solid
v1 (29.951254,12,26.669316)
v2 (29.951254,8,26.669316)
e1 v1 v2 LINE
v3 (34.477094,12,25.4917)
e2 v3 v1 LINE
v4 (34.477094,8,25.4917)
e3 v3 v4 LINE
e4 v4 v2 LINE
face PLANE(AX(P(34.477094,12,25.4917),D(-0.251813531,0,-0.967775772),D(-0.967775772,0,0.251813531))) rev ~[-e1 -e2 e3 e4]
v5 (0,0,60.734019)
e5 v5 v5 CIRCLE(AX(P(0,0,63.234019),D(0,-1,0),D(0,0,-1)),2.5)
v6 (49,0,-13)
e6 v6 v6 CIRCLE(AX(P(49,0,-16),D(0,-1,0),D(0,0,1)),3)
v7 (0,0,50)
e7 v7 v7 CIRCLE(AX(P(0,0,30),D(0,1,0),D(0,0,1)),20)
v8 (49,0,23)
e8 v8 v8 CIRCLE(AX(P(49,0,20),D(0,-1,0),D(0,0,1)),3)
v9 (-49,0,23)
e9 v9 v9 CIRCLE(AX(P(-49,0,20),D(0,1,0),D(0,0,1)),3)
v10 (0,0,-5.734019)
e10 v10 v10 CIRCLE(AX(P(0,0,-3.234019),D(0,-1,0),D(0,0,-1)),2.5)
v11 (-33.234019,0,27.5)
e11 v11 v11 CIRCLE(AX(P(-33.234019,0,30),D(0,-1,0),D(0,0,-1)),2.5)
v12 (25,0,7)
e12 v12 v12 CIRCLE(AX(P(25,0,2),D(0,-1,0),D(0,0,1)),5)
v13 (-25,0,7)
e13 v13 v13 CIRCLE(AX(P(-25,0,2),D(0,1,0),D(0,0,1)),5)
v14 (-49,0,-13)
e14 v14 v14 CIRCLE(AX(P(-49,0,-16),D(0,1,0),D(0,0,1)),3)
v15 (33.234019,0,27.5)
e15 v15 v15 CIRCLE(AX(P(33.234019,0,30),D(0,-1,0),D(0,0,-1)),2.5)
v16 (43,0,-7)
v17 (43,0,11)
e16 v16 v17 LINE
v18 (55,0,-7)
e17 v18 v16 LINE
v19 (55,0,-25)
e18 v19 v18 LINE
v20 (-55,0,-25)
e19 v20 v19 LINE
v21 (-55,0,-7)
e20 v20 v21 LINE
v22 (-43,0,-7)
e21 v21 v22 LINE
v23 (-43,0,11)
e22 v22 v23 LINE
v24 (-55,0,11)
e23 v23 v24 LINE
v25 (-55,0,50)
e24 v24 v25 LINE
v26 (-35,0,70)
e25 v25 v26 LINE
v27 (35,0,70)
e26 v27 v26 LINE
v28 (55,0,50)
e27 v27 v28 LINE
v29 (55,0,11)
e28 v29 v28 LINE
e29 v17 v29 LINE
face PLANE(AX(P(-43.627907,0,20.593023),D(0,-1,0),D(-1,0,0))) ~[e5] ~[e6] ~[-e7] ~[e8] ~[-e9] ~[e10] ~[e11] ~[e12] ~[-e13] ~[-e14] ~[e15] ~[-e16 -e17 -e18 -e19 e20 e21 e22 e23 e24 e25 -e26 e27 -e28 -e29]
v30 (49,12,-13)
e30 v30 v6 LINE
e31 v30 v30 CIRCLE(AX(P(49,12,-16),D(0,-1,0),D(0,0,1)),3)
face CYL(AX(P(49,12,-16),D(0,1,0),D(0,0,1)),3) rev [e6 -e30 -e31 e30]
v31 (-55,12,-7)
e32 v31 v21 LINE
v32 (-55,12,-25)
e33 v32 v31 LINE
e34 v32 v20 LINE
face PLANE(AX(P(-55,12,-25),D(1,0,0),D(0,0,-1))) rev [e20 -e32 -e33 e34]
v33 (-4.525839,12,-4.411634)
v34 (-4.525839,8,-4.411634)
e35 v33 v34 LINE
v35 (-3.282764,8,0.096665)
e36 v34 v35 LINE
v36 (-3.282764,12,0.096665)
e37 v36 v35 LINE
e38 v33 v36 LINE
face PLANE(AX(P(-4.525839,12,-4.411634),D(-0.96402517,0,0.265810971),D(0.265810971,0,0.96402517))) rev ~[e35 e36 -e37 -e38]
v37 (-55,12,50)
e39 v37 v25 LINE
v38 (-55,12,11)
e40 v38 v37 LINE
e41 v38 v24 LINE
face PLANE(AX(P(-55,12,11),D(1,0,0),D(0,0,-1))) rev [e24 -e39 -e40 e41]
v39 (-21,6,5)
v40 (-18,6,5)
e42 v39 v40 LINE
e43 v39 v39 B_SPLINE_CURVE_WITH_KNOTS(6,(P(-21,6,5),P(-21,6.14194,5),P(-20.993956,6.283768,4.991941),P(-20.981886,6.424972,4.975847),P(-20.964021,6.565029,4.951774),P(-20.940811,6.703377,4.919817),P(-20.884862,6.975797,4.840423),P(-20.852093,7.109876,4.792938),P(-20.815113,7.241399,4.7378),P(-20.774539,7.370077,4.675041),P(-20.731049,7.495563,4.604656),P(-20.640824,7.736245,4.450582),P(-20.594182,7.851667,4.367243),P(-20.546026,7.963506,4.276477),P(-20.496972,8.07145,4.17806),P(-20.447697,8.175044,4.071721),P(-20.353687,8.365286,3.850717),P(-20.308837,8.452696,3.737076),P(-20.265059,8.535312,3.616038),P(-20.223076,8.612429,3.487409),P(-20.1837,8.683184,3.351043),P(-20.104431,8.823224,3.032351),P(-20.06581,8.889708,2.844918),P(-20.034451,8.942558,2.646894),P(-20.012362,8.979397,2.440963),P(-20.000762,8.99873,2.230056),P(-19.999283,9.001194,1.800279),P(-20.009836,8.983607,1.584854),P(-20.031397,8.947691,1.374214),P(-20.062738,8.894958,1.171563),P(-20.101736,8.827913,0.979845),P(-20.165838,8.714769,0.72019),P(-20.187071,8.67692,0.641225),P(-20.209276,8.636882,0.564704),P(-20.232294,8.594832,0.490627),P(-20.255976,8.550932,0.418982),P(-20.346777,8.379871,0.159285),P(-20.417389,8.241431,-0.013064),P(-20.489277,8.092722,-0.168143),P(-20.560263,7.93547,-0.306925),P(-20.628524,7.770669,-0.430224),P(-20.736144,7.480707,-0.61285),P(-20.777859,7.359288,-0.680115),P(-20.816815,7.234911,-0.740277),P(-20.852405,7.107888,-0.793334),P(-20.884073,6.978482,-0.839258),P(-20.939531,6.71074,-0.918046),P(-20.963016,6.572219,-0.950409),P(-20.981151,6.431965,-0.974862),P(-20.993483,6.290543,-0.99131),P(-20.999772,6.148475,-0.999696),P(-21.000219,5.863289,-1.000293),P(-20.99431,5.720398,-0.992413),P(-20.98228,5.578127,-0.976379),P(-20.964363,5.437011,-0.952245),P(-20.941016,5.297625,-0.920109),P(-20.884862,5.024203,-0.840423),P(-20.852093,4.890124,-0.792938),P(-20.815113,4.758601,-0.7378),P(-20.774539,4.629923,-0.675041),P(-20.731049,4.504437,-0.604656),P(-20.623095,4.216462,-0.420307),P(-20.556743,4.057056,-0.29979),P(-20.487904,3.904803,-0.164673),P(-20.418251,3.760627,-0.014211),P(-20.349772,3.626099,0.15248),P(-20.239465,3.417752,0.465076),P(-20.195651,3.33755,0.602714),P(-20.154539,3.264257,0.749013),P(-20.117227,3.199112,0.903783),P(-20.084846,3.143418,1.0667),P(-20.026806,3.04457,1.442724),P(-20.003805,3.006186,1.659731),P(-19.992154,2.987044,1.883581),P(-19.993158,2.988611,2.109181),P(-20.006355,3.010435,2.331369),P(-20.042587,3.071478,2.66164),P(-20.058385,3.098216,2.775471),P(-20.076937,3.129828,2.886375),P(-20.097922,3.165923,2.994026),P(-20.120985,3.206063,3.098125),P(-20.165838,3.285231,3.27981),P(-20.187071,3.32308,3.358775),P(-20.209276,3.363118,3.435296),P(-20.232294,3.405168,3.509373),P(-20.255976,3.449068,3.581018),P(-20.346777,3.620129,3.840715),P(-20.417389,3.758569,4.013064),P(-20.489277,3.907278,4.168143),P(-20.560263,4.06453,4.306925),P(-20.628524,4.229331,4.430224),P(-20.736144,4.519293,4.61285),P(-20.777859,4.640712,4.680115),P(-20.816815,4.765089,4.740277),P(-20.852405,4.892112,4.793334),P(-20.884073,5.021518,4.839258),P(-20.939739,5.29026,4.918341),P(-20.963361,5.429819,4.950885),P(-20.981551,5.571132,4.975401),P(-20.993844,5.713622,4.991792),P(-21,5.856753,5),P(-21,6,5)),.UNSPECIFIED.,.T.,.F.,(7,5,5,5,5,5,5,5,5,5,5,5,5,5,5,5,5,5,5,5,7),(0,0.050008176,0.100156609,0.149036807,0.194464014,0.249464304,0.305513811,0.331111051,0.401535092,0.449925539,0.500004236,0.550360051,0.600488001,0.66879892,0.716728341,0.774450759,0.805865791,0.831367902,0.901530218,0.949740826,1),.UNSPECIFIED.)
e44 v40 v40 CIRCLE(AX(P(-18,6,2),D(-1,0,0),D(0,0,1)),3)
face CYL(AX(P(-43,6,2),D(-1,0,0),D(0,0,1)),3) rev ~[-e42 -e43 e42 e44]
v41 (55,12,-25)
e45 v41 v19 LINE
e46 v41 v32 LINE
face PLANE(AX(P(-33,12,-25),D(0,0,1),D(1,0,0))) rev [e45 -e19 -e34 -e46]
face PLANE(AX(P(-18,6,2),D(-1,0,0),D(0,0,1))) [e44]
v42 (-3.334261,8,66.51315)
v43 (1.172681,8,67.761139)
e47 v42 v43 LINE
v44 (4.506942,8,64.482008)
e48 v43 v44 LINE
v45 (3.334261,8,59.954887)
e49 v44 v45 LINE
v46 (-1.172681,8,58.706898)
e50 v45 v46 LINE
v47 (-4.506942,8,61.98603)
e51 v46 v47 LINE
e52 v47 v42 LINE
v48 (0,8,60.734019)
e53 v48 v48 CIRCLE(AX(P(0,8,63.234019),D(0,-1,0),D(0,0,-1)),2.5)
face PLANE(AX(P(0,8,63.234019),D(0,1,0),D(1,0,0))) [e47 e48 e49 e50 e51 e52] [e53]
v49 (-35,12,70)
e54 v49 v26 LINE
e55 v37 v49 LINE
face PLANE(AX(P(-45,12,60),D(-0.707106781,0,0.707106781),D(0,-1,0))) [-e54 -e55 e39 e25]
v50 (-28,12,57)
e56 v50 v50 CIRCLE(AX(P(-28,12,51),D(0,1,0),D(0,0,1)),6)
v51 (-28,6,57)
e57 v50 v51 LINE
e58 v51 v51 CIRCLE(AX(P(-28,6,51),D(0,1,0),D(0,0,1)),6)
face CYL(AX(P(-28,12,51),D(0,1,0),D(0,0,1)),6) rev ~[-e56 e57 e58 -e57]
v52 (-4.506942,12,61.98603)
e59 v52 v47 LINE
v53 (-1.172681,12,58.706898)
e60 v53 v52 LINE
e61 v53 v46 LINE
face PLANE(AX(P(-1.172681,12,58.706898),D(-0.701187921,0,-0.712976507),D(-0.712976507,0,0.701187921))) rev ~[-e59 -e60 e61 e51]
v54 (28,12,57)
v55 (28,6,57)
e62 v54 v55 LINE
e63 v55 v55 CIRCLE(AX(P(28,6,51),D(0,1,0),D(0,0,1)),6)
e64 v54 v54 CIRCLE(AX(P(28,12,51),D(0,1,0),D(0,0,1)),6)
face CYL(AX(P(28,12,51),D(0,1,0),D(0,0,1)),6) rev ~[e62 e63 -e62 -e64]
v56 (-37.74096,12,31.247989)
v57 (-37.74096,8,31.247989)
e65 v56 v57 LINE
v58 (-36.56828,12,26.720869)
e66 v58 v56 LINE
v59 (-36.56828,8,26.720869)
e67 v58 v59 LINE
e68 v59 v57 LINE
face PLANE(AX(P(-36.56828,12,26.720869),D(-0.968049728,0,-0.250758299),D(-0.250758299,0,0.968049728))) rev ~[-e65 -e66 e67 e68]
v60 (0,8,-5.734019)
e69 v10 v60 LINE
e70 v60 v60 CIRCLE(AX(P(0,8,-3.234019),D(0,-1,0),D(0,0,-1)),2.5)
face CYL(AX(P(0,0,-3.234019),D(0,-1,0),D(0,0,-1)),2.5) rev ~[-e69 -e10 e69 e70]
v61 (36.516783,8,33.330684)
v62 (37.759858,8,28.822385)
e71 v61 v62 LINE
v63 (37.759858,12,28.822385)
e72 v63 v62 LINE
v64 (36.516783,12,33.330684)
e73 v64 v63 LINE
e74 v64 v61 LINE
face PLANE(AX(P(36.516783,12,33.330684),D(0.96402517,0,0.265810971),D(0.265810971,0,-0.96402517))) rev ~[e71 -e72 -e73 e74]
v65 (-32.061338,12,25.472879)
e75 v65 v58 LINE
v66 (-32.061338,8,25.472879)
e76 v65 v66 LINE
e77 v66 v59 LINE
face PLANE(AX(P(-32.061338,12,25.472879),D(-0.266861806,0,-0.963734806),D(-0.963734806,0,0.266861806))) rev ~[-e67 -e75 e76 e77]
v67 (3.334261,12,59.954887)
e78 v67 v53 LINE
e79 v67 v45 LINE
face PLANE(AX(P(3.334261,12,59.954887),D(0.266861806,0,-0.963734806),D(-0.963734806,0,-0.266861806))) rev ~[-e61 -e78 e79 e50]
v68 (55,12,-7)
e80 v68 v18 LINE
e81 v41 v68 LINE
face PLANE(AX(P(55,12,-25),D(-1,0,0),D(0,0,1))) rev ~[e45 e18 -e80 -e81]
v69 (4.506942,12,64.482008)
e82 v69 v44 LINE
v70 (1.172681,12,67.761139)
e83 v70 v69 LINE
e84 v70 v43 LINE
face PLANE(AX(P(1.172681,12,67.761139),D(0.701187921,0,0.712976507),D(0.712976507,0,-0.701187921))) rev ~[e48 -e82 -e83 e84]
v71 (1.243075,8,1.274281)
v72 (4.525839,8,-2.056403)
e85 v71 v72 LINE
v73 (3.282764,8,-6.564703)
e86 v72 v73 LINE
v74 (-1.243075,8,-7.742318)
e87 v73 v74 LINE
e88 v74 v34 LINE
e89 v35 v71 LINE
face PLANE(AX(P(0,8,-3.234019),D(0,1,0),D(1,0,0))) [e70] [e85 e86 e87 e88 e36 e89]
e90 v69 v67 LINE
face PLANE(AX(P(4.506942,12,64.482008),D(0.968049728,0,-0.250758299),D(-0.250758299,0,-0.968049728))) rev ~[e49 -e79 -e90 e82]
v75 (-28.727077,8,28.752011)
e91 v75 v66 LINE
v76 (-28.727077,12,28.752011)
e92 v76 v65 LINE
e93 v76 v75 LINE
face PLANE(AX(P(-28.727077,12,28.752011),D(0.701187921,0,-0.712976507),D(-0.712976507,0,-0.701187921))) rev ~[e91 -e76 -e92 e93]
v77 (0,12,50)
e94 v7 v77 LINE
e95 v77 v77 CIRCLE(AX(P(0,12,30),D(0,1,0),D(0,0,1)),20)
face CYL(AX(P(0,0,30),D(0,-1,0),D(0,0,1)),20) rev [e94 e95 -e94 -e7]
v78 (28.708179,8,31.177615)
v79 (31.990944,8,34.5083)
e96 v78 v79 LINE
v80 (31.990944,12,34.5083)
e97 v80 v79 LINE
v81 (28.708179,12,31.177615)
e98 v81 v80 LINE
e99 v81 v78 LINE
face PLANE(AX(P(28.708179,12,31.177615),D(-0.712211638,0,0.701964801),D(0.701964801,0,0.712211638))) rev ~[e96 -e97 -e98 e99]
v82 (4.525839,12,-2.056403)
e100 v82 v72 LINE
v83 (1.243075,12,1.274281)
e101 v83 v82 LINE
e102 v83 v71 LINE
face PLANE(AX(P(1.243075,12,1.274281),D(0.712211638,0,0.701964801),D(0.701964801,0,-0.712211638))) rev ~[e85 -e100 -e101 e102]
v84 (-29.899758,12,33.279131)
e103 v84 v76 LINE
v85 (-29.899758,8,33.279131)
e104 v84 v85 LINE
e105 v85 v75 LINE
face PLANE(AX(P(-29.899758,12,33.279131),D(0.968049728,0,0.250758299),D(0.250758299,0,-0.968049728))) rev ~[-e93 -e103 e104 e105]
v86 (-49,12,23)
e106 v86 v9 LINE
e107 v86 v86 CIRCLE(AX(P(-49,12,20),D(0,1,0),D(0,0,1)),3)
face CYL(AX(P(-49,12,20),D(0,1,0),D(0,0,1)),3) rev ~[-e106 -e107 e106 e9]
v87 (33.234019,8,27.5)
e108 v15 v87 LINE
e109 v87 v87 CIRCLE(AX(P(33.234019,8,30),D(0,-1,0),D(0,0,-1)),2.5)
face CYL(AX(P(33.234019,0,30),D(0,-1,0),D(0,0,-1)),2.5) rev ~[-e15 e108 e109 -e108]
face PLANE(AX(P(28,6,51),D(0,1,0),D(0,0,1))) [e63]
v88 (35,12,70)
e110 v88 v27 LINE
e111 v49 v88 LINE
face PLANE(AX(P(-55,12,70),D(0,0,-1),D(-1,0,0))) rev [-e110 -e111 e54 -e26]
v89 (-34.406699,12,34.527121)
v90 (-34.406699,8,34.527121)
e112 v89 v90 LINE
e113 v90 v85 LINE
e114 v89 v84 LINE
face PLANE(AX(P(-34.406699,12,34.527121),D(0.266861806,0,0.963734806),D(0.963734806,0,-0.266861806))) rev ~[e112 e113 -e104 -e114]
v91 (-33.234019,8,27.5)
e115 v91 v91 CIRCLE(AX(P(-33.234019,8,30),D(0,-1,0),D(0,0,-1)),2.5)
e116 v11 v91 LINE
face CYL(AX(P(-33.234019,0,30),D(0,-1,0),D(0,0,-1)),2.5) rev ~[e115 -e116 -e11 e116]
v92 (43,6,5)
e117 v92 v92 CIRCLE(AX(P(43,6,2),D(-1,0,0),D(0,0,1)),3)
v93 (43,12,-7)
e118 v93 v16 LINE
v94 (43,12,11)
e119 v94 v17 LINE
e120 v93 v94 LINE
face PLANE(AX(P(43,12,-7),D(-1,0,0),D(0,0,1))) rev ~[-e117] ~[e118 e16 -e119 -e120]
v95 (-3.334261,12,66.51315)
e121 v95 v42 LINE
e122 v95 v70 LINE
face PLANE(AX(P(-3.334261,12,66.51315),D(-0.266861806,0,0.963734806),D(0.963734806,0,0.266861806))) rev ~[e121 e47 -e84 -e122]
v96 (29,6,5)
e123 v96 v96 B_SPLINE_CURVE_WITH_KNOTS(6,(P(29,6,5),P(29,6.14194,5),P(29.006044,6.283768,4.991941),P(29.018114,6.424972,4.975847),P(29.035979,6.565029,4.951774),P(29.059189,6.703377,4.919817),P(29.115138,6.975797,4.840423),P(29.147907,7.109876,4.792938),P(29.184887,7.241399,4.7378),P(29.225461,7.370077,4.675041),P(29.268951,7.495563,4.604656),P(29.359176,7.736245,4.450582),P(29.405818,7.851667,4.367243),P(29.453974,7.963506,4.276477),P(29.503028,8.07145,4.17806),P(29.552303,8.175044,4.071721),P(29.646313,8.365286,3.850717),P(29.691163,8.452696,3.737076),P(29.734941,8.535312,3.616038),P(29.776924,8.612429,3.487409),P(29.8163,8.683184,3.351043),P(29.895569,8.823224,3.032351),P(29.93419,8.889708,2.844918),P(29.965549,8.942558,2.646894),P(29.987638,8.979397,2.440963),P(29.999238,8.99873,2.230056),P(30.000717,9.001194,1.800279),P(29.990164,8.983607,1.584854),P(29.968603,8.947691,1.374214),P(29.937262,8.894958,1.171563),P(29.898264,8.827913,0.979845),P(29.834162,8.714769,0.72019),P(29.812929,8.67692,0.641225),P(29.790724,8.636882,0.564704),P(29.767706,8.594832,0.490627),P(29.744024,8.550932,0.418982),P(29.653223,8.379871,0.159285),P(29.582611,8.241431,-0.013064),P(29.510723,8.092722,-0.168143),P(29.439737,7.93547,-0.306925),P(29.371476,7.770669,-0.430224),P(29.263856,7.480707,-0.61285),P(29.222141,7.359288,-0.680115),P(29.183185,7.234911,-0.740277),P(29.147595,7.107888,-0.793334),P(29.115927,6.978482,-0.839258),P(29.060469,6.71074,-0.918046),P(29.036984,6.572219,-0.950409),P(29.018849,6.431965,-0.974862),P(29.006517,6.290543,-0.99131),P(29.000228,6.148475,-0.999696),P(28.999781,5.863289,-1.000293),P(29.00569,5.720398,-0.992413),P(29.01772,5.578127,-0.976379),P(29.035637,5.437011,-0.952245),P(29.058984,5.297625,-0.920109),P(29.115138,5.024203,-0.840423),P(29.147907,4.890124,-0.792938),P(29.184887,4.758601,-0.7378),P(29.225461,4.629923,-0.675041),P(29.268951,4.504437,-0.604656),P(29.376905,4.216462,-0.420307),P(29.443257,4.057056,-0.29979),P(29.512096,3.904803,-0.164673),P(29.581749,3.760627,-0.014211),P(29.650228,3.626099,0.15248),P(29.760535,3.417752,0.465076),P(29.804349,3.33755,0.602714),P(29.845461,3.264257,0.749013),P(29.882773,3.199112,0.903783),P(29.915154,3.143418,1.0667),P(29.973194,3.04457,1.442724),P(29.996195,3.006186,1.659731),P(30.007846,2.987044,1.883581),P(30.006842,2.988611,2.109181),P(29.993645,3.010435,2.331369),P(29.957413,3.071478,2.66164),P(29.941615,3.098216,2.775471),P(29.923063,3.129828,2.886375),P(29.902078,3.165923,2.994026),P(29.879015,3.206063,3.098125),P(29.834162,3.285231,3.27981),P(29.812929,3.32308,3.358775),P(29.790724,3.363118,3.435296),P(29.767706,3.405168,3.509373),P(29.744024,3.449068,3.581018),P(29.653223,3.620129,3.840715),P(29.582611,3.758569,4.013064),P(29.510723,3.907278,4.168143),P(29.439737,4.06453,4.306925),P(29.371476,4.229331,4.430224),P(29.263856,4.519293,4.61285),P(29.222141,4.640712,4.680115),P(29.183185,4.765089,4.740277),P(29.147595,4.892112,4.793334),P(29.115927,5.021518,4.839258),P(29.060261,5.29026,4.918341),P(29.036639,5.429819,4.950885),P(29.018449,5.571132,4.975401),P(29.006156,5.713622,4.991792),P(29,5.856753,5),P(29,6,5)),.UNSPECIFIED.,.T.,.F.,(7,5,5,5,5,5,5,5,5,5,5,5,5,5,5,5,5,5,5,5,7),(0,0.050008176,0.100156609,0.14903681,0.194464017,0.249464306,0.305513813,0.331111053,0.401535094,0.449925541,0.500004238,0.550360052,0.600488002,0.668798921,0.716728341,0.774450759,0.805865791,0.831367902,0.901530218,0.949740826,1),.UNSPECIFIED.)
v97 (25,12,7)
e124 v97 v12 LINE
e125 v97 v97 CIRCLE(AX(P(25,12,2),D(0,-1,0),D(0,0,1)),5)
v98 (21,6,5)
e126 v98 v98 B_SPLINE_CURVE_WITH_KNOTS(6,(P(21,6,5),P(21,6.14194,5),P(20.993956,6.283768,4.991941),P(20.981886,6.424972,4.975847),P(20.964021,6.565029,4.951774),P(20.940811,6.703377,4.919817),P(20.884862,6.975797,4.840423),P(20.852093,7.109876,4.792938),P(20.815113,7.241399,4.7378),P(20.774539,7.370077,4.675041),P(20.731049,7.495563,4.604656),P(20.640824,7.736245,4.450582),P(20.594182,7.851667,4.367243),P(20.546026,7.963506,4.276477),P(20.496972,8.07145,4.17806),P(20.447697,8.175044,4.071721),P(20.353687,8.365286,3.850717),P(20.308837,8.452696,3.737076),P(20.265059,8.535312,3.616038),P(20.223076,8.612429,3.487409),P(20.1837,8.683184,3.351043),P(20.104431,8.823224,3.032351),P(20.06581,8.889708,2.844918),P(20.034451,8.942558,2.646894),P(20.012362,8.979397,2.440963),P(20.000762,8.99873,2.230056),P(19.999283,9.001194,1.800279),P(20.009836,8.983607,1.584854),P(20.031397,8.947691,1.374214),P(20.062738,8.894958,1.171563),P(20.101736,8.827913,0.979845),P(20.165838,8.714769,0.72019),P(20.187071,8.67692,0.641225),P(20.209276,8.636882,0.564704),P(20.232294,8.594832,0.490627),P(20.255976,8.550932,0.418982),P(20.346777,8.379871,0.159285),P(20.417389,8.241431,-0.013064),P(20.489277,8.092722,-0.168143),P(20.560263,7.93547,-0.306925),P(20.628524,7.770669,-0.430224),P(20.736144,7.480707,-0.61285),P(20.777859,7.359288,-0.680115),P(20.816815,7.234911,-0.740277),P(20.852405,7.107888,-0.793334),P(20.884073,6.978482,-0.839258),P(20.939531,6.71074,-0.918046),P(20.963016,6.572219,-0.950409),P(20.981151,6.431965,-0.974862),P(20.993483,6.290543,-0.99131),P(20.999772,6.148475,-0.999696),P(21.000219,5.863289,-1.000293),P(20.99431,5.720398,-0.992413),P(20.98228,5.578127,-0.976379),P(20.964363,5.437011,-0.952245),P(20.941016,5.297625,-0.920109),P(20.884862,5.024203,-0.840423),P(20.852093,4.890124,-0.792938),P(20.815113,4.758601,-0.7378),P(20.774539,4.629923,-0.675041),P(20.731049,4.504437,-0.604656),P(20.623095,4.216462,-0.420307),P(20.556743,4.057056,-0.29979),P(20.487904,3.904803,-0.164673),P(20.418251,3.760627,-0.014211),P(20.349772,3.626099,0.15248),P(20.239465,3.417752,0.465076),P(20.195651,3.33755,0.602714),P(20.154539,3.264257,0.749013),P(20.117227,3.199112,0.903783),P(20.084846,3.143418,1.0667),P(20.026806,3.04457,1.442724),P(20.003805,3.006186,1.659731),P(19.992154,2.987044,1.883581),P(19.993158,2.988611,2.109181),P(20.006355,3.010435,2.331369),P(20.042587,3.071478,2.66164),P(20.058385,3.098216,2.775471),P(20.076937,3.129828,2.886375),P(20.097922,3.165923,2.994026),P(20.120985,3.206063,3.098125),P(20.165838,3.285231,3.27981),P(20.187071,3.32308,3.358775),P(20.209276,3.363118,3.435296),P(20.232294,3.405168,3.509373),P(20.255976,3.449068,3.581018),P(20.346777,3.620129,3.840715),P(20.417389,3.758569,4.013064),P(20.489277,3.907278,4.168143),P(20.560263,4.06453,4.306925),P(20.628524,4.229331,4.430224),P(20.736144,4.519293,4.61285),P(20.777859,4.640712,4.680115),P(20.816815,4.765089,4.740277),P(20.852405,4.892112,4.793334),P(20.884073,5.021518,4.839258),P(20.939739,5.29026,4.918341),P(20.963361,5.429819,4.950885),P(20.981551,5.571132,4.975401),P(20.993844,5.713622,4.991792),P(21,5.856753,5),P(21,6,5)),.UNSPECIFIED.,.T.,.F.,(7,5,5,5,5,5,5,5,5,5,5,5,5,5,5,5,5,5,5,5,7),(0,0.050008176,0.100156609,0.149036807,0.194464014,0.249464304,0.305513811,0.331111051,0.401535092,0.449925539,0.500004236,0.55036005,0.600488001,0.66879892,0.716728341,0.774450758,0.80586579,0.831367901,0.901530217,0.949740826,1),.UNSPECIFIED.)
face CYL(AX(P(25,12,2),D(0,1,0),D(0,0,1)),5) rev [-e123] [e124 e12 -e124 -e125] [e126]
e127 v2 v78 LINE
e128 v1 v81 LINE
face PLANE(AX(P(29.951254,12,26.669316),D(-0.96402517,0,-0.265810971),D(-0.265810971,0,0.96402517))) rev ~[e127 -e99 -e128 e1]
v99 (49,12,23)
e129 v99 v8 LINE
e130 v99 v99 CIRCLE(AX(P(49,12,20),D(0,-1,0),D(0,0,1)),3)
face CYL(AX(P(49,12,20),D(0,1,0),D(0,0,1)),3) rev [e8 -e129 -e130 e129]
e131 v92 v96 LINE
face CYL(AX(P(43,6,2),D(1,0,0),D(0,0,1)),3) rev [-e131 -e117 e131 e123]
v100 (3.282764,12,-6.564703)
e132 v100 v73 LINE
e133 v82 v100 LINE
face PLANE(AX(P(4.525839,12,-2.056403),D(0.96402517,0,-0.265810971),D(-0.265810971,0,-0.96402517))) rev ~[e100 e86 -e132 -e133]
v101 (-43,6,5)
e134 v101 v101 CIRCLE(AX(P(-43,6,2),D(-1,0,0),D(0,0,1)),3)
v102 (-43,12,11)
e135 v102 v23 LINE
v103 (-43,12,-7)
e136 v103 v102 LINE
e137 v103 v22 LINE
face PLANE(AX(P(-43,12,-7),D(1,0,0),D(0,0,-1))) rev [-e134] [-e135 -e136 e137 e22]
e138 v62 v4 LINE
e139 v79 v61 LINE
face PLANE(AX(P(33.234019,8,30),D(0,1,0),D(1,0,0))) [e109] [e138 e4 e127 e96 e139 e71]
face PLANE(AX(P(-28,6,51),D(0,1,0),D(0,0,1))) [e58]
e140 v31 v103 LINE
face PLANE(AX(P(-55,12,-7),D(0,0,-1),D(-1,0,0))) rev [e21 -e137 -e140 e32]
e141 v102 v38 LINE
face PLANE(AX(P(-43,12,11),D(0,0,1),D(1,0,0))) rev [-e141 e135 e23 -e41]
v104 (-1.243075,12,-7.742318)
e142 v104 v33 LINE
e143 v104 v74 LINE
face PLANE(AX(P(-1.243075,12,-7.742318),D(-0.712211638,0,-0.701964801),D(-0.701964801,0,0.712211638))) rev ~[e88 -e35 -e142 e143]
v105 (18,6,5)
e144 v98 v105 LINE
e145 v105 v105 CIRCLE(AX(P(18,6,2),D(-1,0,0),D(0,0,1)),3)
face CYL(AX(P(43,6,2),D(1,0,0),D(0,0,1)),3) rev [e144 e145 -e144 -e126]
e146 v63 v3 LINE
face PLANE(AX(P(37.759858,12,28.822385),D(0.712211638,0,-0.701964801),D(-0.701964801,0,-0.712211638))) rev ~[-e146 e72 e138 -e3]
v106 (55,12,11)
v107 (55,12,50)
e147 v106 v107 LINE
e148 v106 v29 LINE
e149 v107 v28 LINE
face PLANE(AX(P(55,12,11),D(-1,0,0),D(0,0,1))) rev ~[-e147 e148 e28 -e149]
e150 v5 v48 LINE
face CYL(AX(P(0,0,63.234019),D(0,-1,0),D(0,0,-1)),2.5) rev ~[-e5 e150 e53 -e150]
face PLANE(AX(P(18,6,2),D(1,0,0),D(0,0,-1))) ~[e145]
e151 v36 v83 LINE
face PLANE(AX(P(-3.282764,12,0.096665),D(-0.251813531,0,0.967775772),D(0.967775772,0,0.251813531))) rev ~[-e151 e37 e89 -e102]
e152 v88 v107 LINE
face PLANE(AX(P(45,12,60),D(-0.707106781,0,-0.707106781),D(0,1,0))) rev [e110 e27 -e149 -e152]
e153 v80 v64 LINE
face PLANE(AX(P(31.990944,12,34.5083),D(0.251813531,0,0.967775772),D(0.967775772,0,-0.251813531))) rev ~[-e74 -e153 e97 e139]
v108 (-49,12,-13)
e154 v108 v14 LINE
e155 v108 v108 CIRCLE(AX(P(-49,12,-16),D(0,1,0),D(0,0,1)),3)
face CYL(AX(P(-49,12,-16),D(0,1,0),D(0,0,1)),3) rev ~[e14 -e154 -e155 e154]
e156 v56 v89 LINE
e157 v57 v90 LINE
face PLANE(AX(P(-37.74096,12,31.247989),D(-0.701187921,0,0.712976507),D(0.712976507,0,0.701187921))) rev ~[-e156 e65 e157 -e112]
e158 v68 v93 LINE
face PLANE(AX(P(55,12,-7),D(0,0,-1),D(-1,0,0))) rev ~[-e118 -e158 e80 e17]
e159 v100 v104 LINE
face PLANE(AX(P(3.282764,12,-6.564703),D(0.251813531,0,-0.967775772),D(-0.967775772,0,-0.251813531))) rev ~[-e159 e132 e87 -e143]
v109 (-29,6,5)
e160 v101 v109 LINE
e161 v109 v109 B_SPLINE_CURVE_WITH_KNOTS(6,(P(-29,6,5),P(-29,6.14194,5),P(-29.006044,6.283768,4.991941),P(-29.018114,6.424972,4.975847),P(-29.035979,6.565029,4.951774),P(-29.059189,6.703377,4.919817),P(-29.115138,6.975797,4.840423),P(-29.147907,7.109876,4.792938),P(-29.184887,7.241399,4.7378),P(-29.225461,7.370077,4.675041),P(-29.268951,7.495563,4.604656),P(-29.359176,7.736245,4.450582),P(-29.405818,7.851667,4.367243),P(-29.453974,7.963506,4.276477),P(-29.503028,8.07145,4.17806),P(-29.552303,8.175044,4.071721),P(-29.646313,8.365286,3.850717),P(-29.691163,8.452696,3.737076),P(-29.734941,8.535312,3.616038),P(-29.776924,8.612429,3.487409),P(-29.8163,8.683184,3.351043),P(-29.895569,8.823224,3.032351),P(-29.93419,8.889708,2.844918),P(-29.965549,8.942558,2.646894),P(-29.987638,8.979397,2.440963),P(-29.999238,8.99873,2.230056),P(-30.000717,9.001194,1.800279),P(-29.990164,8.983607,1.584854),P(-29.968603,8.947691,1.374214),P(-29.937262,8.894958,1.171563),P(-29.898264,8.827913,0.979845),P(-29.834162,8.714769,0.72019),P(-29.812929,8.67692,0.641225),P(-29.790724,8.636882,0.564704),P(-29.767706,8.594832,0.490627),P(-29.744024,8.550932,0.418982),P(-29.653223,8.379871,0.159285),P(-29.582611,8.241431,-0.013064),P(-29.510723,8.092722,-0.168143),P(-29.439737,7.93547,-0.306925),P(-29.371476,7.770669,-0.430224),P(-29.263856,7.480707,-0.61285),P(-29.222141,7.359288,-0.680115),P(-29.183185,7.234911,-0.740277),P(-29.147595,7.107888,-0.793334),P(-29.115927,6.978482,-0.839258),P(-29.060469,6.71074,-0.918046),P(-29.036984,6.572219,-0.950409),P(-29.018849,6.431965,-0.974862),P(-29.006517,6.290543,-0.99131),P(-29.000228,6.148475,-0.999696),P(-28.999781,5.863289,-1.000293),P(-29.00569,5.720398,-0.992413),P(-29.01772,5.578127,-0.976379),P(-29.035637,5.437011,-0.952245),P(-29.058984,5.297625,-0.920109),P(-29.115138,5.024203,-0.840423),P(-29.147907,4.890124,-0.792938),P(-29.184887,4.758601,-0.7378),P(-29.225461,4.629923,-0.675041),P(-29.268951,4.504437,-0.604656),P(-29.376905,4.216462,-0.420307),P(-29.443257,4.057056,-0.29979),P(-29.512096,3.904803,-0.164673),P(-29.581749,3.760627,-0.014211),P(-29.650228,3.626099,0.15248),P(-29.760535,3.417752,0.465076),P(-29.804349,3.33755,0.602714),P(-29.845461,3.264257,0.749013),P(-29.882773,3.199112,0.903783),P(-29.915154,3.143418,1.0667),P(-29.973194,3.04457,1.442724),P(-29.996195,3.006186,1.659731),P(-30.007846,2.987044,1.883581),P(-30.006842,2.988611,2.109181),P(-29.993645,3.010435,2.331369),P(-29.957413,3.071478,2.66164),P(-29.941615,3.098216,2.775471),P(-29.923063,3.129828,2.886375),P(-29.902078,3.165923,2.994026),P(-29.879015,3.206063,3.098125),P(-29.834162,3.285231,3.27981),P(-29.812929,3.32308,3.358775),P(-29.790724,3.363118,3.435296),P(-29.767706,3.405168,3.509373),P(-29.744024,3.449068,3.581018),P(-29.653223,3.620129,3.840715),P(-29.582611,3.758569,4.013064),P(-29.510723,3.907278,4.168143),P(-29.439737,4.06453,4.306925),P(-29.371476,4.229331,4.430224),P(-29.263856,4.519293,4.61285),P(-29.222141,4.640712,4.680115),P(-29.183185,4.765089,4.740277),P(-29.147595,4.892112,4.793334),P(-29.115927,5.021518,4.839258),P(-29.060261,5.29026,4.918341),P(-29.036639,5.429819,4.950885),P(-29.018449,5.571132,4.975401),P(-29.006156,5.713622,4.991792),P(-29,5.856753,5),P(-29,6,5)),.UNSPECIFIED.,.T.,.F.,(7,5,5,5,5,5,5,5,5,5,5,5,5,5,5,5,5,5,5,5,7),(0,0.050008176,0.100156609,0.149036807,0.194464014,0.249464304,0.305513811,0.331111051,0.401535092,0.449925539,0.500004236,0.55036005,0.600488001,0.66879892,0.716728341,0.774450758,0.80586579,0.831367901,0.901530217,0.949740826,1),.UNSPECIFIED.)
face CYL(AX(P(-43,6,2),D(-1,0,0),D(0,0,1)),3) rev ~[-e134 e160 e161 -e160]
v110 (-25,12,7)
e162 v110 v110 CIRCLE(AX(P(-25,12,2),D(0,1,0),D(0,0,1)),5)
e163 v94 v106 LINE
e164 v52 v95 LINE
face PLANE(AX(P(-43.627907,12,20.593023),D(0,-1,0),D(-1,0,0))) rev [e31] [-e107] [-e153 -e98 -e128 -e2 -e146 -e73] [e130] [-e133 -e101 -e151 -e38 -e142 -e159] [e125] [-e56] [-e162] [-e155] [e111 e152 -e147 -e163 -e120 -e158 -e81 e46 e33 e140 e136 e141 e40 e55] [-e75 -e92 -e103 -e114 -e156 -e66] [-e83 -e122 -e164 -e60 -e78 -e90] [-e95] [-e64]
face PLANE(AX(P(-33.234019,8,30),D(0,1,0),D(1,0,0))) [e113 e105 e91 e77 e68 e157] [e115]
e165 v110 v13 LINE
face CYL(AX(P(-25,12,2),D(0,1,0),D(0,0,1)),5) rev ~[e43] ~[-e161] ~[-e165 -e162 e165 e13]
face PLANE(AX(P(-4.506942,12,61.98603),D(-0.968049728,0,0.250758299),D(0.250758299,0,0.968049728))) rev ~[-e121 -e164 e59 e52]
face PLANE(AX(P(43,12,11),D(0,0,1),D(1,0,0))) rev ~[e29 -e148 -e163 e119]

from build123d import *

# Parameters (mm, degrees)
SKETCH1_W           = 66
SKETCH1_H           = 95
SKETCH1_R           = 20
BOSS_EXTRUDE1_DEPTH = 12
BOSS_EXTRUDE3_DEPTH = 12
SKETCH6_R           = 6
CUT_EXTRUDE2_DEPTH  = 6
CHAMFER1_SIZE       = 20
CUT_EXTRUDE3_REACH  = 91.828
SKETCH7_R           = 3
SKETCH7_R_2         = 5
SKETCH9_R           = 3
CUT_EXTRUDE5_DEPTH  = 25
CUT_EXTRUDE6_REACH  = 91.828
SKETCH10_R          = 2.5
CUT_EXTRUDE7_DEPTH  = 4


with BuildPart() as part:
    # Sketch1 → Boss-Extrude1 (new body)
    with BuildSketch(Plane(origin=(0, 0, 0), x_dir=(1, 0, 0), z_dir=(0, 1, 0))):
        with Locations((0, -22.5)):
            Rectangle(SKETCH1_W, SKETCH1_H)
        with Locations(Location((0, -30, 0), (0, 0, 270))):
            Circle(SKETCH1_R, mode=Mode.SUBTRACT)
    extrude(amount=BOSS_EXTRUDE1_DEPTH)

    # Sketch3 → Boss-Extrude3 (add)
    with BuildSketch(Plane(origin=(0, 12, 0), x_dir=(1, 0, 0), z_dir=(0, 1, 0))):
        Polygon((55, 7), (43, 7), (43, -11), (55, -11), (55, -70), (33, -70), (33, 25), (55, 25), align=None)
    boss_extrude3 = extrude(amount=-BOSS_EXTRUDE3_DEPTH)

    # Mirror1: Boss-Extrude3 across plane
    add(boss_extrude3.mirror(Plane(origin=(0, 0, 0), x_dir=(0, 0, 1), z_dir=(1, 0, 0))))

    # Sketch6 → Cut-Extrude2 (cut)
    with BuildSketch(Plane(origin=(0, 12, 0), x_dir=(1, 0, 0), z_dir=(0, 1, 0))):
        with Locations(Location((-28, -51, 0), (0, 0, 270))):
            Circle(SKETCH6_R)
        with Locations(Location((28, -51, 0), (0, 0, 270))):
            Circle(SKETCH6_R)
    extrude(amount=-CUT_EXTRUDE2_DEPTH, mode=Mode.SUBTRACT)

    # Chamfer1
    chamfer1_edges = [part.edges().sort_by_distance(p)[0] for p in [
        (55, 6, 70),
        (-55, 6, 70),
    ]]
    chamfer(chamfer1_edges, length=CHAMFER1_SIZE)

    # Sketch7 → Cut-Extrude3 (cut, up to next)
    with BuildSketch(Plane(origin=(0, 12, 0), x_dir=(1, 0, 0), z_dir=(0, 1, 0)), mode=Mode.PRIVATE) as cut_extrude3_sk1:
        with Locations(Location((-49, 16, 0), (0, 0, 270))):
            Circle(SKETCH7_R)
    cut_extrude3_tool1 = extrude(cut_extrude3_sk1.sketch, amount=-CUT_EXTRUDE3_REACH, mode=Mode.PRIVATE) & part.part
    # Sketch7 → Cut-Extrude3 (cut, up to next)
    with BuildSketch(Plane(origin=(0, 12, 0), x_dir=(1, 0, 0), z_dir=(0, 1, 0)), mode=Mode.PRIVATE) as cut_extrude3_sk2:
        with Locations(Location((-49, -20, 0), (0, 0, 270))):
            Circle(SKETCH7_R)
    cut_extrude3_tool2 = extrude(cut_extrude3_sk2.sketch, amount=-CUT_EXTRUDE3_REACH, mode=Mode.PRIVATE) & part.part
    # Sketch7 → Cut-Extrude3 (cut, up to next)
    with BuildSketch(Plane(origin=(0, 12, 0), x_dir=(1, 0, 0), z_dir=(0, 1, 0)), mode=Mode.PRIVATE) as cut_extrude3_sk3:
        with Locations(Location((-25, -2, 0), (0, 0, 270))):
            Circle(SKETCH7_R_2)
    cut_extrude3_tool3 = extrude(cut_extrude3_sk3.sketch, amount=-CUT_EXTRUDE3_REACH, mode=Mode.PRIVATE) & part.part
    cut_extrude3_1 = cut_extrude3_tool1.solids().sort_by_distance((-49, 12, -16))[0]
    add(cut_extrude3_1, mode=Mode.SUBTRACT)
    cut_extrude3_2 = cut_extrude3_tool2.solids().sort_by_distance((-49, 12, 20))[0]
    add(cut_extrude3_2, mode=Mode.SUBTRACT)
    cut_extrude3_3 = cut_extrude3_tool3.solids().sort_by_distance((-25, 12, 2))[0]
    add(cut_extrude3_3, mode=Mode.SUBTRACT)
    cut_extrude3 = cut_extrude3_1 + cut_extrude3_2 + cut_extrude3_3  # Cut-Extrude3 as one shape, for the pattern or mirror that repeats it

    # Sketch9 → Cut-Extrude5 (cut)
    with BuildSketch(Plane.ZY.offset(43)):
        with Locations((2, 6)):
            Circle(SKETCH9_R)
    cut_extrude5 = extrude(amount=-CUT_EXTRUDE5_DEPTH, mode=Mode.SUBTRACT)

    # Mirror2: Cut-Extrude3, Cut-Extrude5 across plane
    add(cut_extrude3.mirror(Plane(origin=(0, 0, 0), x_dir=(0, 0, 1), z_dir=(1, 0, 0))), mode=Mode.SUBTRACT)
    add(cut_extrude5.mirror(Plane(origin=(0, 0, 0), x_dir=(0, 0, 1), z_dir=(1, 0, 0))), mode=Mode.SUBTRACT)

    # Sketch10 → Cut-Extrude6 (cut, up to next)
    with BuildSketch(Plane.XZ, mode=Mode.PRIVATE) as cut_extrude6_sk1:
        with Locations(Location((0, 63.234018716, 0), (0, 0, 270))):
            Circle(SKETCH10_R)
    cut_extrude6_tool1 = extrude(cut_extrude6_sk1.sketch, amount=-CUT_EXTRUDE6_REACH, mode=Mode.PRIVATE) & part.part
    # Sketch10 → Cut-Extrude6 (cut, up to next)
    with BuildSketch(Plane.XZ, mode=Mode.PRIVATE) as cut_extrude6_sk2:
        with Locations(Location((-33.234018716, 30, 0), (0, 0, 270))):
            Circle(SKETCH10_R)
    cut_extrude6_tool2 = extrude(cut_extrude6_sk2.sketch, amount=-CUT_EXTRUDE6_REACH, mode=Mode.PRIVATE) & part.part
    # Sketch10 → Cut-Extrude6 (cut, up to next)
    with BuildSketch(Plane.XZ, mode=Mode.PRIVATE) as cut_extrude6_sk3:
        with Locations(Location((0, -3.234018716, 0), (0, 0, 270))):
            Circle(SKETCH10_R)
    cut_extrude6_tool3 = extrude(cut_extrude6_sk3.sketch, amount=-CUT_EXTRUDE6_REACH, mode=Mode.PRIVATE) & part.part
    # Sketch10 → Cut-Extrude6 (cut, up to next)
    with BuildSketch(Plane.XZ, mode=Mode.PRIVATE) as cut_extrude6_sk4:
        with Locations(Location((33.234018716, 30, 0), (0, 0, 270))):
            Circle(SKETCH10_R)
    cut_extrude6_tool4 = extrude(cut_extrude6_sk4.sketch, amount=-CUT_EXTRUDE6_REACH, mode=Mode.PRIVATE) & part.part
    add(cut_extrude6_tool1.solids().sort_by_distance((0, 0, 63.234019))[0], mode=Mode.SUBTRACT)
    add(cut_extrude6_tool2.solids().sort_by_distance((-33.234019, 0, 30))[0], mode=Mode.SUBTRACT)
    add(cut_extrude6_tool3.solids().sort_by_distance((0, 0, -3.234019))[0], mode=Mode.SUBTRACT)
    add(cut_extrude6_tool4.solids().sort_by_distance((33.234019, 0, 30))[0], mode=Mode.SUBTRACT)

    # Sketch12 → Cut-Extrude7 (cut)
    with BuildSketch(Plane(origin=(0, 12, 0), x_dir=(1, 0, 0), z_dir=(0, 1, 0))):
        Polygon((3.334261142, -59.954887332), (-1.17268051, -58.706898172), (-4.506941652, -61.986029556), (-3.334261142, -66.5131501), (1.17268051, -67.76113926), (4.506941652, -64.482007876), align=None)
        Polygon((-29.899757573, -33.279131384), (-28.727077064, -28.75201084), (-32.061338206, -25.472879456), (-36.568279858, -26.720868616), (-37.740960368, -31.24798916), (-34.406699225, -34.527120544), align=None)
        Polygon((-3.282764492, -0.096665492), (1.24307489, -1.274280833), (4.525839382, 2.056403375), (3.282764492, 6.564702924), (-1.24307489, 7.742318264), (-4.525839382, 4.411634056), align=None)
        Polygon((29.951254224, -26.669315792), (28.708179334, -31.177615341), (31.990943826, -34.508299548), (36.516783208, -33.330684208), (37.759858098, -28.822384659), (34.477093606, -25.491700452), align=None)
    extrude(amount=-CUT_EXTRUDE7_DEPTH, mode=Mode.SUBTRACT)


solid = part.part
